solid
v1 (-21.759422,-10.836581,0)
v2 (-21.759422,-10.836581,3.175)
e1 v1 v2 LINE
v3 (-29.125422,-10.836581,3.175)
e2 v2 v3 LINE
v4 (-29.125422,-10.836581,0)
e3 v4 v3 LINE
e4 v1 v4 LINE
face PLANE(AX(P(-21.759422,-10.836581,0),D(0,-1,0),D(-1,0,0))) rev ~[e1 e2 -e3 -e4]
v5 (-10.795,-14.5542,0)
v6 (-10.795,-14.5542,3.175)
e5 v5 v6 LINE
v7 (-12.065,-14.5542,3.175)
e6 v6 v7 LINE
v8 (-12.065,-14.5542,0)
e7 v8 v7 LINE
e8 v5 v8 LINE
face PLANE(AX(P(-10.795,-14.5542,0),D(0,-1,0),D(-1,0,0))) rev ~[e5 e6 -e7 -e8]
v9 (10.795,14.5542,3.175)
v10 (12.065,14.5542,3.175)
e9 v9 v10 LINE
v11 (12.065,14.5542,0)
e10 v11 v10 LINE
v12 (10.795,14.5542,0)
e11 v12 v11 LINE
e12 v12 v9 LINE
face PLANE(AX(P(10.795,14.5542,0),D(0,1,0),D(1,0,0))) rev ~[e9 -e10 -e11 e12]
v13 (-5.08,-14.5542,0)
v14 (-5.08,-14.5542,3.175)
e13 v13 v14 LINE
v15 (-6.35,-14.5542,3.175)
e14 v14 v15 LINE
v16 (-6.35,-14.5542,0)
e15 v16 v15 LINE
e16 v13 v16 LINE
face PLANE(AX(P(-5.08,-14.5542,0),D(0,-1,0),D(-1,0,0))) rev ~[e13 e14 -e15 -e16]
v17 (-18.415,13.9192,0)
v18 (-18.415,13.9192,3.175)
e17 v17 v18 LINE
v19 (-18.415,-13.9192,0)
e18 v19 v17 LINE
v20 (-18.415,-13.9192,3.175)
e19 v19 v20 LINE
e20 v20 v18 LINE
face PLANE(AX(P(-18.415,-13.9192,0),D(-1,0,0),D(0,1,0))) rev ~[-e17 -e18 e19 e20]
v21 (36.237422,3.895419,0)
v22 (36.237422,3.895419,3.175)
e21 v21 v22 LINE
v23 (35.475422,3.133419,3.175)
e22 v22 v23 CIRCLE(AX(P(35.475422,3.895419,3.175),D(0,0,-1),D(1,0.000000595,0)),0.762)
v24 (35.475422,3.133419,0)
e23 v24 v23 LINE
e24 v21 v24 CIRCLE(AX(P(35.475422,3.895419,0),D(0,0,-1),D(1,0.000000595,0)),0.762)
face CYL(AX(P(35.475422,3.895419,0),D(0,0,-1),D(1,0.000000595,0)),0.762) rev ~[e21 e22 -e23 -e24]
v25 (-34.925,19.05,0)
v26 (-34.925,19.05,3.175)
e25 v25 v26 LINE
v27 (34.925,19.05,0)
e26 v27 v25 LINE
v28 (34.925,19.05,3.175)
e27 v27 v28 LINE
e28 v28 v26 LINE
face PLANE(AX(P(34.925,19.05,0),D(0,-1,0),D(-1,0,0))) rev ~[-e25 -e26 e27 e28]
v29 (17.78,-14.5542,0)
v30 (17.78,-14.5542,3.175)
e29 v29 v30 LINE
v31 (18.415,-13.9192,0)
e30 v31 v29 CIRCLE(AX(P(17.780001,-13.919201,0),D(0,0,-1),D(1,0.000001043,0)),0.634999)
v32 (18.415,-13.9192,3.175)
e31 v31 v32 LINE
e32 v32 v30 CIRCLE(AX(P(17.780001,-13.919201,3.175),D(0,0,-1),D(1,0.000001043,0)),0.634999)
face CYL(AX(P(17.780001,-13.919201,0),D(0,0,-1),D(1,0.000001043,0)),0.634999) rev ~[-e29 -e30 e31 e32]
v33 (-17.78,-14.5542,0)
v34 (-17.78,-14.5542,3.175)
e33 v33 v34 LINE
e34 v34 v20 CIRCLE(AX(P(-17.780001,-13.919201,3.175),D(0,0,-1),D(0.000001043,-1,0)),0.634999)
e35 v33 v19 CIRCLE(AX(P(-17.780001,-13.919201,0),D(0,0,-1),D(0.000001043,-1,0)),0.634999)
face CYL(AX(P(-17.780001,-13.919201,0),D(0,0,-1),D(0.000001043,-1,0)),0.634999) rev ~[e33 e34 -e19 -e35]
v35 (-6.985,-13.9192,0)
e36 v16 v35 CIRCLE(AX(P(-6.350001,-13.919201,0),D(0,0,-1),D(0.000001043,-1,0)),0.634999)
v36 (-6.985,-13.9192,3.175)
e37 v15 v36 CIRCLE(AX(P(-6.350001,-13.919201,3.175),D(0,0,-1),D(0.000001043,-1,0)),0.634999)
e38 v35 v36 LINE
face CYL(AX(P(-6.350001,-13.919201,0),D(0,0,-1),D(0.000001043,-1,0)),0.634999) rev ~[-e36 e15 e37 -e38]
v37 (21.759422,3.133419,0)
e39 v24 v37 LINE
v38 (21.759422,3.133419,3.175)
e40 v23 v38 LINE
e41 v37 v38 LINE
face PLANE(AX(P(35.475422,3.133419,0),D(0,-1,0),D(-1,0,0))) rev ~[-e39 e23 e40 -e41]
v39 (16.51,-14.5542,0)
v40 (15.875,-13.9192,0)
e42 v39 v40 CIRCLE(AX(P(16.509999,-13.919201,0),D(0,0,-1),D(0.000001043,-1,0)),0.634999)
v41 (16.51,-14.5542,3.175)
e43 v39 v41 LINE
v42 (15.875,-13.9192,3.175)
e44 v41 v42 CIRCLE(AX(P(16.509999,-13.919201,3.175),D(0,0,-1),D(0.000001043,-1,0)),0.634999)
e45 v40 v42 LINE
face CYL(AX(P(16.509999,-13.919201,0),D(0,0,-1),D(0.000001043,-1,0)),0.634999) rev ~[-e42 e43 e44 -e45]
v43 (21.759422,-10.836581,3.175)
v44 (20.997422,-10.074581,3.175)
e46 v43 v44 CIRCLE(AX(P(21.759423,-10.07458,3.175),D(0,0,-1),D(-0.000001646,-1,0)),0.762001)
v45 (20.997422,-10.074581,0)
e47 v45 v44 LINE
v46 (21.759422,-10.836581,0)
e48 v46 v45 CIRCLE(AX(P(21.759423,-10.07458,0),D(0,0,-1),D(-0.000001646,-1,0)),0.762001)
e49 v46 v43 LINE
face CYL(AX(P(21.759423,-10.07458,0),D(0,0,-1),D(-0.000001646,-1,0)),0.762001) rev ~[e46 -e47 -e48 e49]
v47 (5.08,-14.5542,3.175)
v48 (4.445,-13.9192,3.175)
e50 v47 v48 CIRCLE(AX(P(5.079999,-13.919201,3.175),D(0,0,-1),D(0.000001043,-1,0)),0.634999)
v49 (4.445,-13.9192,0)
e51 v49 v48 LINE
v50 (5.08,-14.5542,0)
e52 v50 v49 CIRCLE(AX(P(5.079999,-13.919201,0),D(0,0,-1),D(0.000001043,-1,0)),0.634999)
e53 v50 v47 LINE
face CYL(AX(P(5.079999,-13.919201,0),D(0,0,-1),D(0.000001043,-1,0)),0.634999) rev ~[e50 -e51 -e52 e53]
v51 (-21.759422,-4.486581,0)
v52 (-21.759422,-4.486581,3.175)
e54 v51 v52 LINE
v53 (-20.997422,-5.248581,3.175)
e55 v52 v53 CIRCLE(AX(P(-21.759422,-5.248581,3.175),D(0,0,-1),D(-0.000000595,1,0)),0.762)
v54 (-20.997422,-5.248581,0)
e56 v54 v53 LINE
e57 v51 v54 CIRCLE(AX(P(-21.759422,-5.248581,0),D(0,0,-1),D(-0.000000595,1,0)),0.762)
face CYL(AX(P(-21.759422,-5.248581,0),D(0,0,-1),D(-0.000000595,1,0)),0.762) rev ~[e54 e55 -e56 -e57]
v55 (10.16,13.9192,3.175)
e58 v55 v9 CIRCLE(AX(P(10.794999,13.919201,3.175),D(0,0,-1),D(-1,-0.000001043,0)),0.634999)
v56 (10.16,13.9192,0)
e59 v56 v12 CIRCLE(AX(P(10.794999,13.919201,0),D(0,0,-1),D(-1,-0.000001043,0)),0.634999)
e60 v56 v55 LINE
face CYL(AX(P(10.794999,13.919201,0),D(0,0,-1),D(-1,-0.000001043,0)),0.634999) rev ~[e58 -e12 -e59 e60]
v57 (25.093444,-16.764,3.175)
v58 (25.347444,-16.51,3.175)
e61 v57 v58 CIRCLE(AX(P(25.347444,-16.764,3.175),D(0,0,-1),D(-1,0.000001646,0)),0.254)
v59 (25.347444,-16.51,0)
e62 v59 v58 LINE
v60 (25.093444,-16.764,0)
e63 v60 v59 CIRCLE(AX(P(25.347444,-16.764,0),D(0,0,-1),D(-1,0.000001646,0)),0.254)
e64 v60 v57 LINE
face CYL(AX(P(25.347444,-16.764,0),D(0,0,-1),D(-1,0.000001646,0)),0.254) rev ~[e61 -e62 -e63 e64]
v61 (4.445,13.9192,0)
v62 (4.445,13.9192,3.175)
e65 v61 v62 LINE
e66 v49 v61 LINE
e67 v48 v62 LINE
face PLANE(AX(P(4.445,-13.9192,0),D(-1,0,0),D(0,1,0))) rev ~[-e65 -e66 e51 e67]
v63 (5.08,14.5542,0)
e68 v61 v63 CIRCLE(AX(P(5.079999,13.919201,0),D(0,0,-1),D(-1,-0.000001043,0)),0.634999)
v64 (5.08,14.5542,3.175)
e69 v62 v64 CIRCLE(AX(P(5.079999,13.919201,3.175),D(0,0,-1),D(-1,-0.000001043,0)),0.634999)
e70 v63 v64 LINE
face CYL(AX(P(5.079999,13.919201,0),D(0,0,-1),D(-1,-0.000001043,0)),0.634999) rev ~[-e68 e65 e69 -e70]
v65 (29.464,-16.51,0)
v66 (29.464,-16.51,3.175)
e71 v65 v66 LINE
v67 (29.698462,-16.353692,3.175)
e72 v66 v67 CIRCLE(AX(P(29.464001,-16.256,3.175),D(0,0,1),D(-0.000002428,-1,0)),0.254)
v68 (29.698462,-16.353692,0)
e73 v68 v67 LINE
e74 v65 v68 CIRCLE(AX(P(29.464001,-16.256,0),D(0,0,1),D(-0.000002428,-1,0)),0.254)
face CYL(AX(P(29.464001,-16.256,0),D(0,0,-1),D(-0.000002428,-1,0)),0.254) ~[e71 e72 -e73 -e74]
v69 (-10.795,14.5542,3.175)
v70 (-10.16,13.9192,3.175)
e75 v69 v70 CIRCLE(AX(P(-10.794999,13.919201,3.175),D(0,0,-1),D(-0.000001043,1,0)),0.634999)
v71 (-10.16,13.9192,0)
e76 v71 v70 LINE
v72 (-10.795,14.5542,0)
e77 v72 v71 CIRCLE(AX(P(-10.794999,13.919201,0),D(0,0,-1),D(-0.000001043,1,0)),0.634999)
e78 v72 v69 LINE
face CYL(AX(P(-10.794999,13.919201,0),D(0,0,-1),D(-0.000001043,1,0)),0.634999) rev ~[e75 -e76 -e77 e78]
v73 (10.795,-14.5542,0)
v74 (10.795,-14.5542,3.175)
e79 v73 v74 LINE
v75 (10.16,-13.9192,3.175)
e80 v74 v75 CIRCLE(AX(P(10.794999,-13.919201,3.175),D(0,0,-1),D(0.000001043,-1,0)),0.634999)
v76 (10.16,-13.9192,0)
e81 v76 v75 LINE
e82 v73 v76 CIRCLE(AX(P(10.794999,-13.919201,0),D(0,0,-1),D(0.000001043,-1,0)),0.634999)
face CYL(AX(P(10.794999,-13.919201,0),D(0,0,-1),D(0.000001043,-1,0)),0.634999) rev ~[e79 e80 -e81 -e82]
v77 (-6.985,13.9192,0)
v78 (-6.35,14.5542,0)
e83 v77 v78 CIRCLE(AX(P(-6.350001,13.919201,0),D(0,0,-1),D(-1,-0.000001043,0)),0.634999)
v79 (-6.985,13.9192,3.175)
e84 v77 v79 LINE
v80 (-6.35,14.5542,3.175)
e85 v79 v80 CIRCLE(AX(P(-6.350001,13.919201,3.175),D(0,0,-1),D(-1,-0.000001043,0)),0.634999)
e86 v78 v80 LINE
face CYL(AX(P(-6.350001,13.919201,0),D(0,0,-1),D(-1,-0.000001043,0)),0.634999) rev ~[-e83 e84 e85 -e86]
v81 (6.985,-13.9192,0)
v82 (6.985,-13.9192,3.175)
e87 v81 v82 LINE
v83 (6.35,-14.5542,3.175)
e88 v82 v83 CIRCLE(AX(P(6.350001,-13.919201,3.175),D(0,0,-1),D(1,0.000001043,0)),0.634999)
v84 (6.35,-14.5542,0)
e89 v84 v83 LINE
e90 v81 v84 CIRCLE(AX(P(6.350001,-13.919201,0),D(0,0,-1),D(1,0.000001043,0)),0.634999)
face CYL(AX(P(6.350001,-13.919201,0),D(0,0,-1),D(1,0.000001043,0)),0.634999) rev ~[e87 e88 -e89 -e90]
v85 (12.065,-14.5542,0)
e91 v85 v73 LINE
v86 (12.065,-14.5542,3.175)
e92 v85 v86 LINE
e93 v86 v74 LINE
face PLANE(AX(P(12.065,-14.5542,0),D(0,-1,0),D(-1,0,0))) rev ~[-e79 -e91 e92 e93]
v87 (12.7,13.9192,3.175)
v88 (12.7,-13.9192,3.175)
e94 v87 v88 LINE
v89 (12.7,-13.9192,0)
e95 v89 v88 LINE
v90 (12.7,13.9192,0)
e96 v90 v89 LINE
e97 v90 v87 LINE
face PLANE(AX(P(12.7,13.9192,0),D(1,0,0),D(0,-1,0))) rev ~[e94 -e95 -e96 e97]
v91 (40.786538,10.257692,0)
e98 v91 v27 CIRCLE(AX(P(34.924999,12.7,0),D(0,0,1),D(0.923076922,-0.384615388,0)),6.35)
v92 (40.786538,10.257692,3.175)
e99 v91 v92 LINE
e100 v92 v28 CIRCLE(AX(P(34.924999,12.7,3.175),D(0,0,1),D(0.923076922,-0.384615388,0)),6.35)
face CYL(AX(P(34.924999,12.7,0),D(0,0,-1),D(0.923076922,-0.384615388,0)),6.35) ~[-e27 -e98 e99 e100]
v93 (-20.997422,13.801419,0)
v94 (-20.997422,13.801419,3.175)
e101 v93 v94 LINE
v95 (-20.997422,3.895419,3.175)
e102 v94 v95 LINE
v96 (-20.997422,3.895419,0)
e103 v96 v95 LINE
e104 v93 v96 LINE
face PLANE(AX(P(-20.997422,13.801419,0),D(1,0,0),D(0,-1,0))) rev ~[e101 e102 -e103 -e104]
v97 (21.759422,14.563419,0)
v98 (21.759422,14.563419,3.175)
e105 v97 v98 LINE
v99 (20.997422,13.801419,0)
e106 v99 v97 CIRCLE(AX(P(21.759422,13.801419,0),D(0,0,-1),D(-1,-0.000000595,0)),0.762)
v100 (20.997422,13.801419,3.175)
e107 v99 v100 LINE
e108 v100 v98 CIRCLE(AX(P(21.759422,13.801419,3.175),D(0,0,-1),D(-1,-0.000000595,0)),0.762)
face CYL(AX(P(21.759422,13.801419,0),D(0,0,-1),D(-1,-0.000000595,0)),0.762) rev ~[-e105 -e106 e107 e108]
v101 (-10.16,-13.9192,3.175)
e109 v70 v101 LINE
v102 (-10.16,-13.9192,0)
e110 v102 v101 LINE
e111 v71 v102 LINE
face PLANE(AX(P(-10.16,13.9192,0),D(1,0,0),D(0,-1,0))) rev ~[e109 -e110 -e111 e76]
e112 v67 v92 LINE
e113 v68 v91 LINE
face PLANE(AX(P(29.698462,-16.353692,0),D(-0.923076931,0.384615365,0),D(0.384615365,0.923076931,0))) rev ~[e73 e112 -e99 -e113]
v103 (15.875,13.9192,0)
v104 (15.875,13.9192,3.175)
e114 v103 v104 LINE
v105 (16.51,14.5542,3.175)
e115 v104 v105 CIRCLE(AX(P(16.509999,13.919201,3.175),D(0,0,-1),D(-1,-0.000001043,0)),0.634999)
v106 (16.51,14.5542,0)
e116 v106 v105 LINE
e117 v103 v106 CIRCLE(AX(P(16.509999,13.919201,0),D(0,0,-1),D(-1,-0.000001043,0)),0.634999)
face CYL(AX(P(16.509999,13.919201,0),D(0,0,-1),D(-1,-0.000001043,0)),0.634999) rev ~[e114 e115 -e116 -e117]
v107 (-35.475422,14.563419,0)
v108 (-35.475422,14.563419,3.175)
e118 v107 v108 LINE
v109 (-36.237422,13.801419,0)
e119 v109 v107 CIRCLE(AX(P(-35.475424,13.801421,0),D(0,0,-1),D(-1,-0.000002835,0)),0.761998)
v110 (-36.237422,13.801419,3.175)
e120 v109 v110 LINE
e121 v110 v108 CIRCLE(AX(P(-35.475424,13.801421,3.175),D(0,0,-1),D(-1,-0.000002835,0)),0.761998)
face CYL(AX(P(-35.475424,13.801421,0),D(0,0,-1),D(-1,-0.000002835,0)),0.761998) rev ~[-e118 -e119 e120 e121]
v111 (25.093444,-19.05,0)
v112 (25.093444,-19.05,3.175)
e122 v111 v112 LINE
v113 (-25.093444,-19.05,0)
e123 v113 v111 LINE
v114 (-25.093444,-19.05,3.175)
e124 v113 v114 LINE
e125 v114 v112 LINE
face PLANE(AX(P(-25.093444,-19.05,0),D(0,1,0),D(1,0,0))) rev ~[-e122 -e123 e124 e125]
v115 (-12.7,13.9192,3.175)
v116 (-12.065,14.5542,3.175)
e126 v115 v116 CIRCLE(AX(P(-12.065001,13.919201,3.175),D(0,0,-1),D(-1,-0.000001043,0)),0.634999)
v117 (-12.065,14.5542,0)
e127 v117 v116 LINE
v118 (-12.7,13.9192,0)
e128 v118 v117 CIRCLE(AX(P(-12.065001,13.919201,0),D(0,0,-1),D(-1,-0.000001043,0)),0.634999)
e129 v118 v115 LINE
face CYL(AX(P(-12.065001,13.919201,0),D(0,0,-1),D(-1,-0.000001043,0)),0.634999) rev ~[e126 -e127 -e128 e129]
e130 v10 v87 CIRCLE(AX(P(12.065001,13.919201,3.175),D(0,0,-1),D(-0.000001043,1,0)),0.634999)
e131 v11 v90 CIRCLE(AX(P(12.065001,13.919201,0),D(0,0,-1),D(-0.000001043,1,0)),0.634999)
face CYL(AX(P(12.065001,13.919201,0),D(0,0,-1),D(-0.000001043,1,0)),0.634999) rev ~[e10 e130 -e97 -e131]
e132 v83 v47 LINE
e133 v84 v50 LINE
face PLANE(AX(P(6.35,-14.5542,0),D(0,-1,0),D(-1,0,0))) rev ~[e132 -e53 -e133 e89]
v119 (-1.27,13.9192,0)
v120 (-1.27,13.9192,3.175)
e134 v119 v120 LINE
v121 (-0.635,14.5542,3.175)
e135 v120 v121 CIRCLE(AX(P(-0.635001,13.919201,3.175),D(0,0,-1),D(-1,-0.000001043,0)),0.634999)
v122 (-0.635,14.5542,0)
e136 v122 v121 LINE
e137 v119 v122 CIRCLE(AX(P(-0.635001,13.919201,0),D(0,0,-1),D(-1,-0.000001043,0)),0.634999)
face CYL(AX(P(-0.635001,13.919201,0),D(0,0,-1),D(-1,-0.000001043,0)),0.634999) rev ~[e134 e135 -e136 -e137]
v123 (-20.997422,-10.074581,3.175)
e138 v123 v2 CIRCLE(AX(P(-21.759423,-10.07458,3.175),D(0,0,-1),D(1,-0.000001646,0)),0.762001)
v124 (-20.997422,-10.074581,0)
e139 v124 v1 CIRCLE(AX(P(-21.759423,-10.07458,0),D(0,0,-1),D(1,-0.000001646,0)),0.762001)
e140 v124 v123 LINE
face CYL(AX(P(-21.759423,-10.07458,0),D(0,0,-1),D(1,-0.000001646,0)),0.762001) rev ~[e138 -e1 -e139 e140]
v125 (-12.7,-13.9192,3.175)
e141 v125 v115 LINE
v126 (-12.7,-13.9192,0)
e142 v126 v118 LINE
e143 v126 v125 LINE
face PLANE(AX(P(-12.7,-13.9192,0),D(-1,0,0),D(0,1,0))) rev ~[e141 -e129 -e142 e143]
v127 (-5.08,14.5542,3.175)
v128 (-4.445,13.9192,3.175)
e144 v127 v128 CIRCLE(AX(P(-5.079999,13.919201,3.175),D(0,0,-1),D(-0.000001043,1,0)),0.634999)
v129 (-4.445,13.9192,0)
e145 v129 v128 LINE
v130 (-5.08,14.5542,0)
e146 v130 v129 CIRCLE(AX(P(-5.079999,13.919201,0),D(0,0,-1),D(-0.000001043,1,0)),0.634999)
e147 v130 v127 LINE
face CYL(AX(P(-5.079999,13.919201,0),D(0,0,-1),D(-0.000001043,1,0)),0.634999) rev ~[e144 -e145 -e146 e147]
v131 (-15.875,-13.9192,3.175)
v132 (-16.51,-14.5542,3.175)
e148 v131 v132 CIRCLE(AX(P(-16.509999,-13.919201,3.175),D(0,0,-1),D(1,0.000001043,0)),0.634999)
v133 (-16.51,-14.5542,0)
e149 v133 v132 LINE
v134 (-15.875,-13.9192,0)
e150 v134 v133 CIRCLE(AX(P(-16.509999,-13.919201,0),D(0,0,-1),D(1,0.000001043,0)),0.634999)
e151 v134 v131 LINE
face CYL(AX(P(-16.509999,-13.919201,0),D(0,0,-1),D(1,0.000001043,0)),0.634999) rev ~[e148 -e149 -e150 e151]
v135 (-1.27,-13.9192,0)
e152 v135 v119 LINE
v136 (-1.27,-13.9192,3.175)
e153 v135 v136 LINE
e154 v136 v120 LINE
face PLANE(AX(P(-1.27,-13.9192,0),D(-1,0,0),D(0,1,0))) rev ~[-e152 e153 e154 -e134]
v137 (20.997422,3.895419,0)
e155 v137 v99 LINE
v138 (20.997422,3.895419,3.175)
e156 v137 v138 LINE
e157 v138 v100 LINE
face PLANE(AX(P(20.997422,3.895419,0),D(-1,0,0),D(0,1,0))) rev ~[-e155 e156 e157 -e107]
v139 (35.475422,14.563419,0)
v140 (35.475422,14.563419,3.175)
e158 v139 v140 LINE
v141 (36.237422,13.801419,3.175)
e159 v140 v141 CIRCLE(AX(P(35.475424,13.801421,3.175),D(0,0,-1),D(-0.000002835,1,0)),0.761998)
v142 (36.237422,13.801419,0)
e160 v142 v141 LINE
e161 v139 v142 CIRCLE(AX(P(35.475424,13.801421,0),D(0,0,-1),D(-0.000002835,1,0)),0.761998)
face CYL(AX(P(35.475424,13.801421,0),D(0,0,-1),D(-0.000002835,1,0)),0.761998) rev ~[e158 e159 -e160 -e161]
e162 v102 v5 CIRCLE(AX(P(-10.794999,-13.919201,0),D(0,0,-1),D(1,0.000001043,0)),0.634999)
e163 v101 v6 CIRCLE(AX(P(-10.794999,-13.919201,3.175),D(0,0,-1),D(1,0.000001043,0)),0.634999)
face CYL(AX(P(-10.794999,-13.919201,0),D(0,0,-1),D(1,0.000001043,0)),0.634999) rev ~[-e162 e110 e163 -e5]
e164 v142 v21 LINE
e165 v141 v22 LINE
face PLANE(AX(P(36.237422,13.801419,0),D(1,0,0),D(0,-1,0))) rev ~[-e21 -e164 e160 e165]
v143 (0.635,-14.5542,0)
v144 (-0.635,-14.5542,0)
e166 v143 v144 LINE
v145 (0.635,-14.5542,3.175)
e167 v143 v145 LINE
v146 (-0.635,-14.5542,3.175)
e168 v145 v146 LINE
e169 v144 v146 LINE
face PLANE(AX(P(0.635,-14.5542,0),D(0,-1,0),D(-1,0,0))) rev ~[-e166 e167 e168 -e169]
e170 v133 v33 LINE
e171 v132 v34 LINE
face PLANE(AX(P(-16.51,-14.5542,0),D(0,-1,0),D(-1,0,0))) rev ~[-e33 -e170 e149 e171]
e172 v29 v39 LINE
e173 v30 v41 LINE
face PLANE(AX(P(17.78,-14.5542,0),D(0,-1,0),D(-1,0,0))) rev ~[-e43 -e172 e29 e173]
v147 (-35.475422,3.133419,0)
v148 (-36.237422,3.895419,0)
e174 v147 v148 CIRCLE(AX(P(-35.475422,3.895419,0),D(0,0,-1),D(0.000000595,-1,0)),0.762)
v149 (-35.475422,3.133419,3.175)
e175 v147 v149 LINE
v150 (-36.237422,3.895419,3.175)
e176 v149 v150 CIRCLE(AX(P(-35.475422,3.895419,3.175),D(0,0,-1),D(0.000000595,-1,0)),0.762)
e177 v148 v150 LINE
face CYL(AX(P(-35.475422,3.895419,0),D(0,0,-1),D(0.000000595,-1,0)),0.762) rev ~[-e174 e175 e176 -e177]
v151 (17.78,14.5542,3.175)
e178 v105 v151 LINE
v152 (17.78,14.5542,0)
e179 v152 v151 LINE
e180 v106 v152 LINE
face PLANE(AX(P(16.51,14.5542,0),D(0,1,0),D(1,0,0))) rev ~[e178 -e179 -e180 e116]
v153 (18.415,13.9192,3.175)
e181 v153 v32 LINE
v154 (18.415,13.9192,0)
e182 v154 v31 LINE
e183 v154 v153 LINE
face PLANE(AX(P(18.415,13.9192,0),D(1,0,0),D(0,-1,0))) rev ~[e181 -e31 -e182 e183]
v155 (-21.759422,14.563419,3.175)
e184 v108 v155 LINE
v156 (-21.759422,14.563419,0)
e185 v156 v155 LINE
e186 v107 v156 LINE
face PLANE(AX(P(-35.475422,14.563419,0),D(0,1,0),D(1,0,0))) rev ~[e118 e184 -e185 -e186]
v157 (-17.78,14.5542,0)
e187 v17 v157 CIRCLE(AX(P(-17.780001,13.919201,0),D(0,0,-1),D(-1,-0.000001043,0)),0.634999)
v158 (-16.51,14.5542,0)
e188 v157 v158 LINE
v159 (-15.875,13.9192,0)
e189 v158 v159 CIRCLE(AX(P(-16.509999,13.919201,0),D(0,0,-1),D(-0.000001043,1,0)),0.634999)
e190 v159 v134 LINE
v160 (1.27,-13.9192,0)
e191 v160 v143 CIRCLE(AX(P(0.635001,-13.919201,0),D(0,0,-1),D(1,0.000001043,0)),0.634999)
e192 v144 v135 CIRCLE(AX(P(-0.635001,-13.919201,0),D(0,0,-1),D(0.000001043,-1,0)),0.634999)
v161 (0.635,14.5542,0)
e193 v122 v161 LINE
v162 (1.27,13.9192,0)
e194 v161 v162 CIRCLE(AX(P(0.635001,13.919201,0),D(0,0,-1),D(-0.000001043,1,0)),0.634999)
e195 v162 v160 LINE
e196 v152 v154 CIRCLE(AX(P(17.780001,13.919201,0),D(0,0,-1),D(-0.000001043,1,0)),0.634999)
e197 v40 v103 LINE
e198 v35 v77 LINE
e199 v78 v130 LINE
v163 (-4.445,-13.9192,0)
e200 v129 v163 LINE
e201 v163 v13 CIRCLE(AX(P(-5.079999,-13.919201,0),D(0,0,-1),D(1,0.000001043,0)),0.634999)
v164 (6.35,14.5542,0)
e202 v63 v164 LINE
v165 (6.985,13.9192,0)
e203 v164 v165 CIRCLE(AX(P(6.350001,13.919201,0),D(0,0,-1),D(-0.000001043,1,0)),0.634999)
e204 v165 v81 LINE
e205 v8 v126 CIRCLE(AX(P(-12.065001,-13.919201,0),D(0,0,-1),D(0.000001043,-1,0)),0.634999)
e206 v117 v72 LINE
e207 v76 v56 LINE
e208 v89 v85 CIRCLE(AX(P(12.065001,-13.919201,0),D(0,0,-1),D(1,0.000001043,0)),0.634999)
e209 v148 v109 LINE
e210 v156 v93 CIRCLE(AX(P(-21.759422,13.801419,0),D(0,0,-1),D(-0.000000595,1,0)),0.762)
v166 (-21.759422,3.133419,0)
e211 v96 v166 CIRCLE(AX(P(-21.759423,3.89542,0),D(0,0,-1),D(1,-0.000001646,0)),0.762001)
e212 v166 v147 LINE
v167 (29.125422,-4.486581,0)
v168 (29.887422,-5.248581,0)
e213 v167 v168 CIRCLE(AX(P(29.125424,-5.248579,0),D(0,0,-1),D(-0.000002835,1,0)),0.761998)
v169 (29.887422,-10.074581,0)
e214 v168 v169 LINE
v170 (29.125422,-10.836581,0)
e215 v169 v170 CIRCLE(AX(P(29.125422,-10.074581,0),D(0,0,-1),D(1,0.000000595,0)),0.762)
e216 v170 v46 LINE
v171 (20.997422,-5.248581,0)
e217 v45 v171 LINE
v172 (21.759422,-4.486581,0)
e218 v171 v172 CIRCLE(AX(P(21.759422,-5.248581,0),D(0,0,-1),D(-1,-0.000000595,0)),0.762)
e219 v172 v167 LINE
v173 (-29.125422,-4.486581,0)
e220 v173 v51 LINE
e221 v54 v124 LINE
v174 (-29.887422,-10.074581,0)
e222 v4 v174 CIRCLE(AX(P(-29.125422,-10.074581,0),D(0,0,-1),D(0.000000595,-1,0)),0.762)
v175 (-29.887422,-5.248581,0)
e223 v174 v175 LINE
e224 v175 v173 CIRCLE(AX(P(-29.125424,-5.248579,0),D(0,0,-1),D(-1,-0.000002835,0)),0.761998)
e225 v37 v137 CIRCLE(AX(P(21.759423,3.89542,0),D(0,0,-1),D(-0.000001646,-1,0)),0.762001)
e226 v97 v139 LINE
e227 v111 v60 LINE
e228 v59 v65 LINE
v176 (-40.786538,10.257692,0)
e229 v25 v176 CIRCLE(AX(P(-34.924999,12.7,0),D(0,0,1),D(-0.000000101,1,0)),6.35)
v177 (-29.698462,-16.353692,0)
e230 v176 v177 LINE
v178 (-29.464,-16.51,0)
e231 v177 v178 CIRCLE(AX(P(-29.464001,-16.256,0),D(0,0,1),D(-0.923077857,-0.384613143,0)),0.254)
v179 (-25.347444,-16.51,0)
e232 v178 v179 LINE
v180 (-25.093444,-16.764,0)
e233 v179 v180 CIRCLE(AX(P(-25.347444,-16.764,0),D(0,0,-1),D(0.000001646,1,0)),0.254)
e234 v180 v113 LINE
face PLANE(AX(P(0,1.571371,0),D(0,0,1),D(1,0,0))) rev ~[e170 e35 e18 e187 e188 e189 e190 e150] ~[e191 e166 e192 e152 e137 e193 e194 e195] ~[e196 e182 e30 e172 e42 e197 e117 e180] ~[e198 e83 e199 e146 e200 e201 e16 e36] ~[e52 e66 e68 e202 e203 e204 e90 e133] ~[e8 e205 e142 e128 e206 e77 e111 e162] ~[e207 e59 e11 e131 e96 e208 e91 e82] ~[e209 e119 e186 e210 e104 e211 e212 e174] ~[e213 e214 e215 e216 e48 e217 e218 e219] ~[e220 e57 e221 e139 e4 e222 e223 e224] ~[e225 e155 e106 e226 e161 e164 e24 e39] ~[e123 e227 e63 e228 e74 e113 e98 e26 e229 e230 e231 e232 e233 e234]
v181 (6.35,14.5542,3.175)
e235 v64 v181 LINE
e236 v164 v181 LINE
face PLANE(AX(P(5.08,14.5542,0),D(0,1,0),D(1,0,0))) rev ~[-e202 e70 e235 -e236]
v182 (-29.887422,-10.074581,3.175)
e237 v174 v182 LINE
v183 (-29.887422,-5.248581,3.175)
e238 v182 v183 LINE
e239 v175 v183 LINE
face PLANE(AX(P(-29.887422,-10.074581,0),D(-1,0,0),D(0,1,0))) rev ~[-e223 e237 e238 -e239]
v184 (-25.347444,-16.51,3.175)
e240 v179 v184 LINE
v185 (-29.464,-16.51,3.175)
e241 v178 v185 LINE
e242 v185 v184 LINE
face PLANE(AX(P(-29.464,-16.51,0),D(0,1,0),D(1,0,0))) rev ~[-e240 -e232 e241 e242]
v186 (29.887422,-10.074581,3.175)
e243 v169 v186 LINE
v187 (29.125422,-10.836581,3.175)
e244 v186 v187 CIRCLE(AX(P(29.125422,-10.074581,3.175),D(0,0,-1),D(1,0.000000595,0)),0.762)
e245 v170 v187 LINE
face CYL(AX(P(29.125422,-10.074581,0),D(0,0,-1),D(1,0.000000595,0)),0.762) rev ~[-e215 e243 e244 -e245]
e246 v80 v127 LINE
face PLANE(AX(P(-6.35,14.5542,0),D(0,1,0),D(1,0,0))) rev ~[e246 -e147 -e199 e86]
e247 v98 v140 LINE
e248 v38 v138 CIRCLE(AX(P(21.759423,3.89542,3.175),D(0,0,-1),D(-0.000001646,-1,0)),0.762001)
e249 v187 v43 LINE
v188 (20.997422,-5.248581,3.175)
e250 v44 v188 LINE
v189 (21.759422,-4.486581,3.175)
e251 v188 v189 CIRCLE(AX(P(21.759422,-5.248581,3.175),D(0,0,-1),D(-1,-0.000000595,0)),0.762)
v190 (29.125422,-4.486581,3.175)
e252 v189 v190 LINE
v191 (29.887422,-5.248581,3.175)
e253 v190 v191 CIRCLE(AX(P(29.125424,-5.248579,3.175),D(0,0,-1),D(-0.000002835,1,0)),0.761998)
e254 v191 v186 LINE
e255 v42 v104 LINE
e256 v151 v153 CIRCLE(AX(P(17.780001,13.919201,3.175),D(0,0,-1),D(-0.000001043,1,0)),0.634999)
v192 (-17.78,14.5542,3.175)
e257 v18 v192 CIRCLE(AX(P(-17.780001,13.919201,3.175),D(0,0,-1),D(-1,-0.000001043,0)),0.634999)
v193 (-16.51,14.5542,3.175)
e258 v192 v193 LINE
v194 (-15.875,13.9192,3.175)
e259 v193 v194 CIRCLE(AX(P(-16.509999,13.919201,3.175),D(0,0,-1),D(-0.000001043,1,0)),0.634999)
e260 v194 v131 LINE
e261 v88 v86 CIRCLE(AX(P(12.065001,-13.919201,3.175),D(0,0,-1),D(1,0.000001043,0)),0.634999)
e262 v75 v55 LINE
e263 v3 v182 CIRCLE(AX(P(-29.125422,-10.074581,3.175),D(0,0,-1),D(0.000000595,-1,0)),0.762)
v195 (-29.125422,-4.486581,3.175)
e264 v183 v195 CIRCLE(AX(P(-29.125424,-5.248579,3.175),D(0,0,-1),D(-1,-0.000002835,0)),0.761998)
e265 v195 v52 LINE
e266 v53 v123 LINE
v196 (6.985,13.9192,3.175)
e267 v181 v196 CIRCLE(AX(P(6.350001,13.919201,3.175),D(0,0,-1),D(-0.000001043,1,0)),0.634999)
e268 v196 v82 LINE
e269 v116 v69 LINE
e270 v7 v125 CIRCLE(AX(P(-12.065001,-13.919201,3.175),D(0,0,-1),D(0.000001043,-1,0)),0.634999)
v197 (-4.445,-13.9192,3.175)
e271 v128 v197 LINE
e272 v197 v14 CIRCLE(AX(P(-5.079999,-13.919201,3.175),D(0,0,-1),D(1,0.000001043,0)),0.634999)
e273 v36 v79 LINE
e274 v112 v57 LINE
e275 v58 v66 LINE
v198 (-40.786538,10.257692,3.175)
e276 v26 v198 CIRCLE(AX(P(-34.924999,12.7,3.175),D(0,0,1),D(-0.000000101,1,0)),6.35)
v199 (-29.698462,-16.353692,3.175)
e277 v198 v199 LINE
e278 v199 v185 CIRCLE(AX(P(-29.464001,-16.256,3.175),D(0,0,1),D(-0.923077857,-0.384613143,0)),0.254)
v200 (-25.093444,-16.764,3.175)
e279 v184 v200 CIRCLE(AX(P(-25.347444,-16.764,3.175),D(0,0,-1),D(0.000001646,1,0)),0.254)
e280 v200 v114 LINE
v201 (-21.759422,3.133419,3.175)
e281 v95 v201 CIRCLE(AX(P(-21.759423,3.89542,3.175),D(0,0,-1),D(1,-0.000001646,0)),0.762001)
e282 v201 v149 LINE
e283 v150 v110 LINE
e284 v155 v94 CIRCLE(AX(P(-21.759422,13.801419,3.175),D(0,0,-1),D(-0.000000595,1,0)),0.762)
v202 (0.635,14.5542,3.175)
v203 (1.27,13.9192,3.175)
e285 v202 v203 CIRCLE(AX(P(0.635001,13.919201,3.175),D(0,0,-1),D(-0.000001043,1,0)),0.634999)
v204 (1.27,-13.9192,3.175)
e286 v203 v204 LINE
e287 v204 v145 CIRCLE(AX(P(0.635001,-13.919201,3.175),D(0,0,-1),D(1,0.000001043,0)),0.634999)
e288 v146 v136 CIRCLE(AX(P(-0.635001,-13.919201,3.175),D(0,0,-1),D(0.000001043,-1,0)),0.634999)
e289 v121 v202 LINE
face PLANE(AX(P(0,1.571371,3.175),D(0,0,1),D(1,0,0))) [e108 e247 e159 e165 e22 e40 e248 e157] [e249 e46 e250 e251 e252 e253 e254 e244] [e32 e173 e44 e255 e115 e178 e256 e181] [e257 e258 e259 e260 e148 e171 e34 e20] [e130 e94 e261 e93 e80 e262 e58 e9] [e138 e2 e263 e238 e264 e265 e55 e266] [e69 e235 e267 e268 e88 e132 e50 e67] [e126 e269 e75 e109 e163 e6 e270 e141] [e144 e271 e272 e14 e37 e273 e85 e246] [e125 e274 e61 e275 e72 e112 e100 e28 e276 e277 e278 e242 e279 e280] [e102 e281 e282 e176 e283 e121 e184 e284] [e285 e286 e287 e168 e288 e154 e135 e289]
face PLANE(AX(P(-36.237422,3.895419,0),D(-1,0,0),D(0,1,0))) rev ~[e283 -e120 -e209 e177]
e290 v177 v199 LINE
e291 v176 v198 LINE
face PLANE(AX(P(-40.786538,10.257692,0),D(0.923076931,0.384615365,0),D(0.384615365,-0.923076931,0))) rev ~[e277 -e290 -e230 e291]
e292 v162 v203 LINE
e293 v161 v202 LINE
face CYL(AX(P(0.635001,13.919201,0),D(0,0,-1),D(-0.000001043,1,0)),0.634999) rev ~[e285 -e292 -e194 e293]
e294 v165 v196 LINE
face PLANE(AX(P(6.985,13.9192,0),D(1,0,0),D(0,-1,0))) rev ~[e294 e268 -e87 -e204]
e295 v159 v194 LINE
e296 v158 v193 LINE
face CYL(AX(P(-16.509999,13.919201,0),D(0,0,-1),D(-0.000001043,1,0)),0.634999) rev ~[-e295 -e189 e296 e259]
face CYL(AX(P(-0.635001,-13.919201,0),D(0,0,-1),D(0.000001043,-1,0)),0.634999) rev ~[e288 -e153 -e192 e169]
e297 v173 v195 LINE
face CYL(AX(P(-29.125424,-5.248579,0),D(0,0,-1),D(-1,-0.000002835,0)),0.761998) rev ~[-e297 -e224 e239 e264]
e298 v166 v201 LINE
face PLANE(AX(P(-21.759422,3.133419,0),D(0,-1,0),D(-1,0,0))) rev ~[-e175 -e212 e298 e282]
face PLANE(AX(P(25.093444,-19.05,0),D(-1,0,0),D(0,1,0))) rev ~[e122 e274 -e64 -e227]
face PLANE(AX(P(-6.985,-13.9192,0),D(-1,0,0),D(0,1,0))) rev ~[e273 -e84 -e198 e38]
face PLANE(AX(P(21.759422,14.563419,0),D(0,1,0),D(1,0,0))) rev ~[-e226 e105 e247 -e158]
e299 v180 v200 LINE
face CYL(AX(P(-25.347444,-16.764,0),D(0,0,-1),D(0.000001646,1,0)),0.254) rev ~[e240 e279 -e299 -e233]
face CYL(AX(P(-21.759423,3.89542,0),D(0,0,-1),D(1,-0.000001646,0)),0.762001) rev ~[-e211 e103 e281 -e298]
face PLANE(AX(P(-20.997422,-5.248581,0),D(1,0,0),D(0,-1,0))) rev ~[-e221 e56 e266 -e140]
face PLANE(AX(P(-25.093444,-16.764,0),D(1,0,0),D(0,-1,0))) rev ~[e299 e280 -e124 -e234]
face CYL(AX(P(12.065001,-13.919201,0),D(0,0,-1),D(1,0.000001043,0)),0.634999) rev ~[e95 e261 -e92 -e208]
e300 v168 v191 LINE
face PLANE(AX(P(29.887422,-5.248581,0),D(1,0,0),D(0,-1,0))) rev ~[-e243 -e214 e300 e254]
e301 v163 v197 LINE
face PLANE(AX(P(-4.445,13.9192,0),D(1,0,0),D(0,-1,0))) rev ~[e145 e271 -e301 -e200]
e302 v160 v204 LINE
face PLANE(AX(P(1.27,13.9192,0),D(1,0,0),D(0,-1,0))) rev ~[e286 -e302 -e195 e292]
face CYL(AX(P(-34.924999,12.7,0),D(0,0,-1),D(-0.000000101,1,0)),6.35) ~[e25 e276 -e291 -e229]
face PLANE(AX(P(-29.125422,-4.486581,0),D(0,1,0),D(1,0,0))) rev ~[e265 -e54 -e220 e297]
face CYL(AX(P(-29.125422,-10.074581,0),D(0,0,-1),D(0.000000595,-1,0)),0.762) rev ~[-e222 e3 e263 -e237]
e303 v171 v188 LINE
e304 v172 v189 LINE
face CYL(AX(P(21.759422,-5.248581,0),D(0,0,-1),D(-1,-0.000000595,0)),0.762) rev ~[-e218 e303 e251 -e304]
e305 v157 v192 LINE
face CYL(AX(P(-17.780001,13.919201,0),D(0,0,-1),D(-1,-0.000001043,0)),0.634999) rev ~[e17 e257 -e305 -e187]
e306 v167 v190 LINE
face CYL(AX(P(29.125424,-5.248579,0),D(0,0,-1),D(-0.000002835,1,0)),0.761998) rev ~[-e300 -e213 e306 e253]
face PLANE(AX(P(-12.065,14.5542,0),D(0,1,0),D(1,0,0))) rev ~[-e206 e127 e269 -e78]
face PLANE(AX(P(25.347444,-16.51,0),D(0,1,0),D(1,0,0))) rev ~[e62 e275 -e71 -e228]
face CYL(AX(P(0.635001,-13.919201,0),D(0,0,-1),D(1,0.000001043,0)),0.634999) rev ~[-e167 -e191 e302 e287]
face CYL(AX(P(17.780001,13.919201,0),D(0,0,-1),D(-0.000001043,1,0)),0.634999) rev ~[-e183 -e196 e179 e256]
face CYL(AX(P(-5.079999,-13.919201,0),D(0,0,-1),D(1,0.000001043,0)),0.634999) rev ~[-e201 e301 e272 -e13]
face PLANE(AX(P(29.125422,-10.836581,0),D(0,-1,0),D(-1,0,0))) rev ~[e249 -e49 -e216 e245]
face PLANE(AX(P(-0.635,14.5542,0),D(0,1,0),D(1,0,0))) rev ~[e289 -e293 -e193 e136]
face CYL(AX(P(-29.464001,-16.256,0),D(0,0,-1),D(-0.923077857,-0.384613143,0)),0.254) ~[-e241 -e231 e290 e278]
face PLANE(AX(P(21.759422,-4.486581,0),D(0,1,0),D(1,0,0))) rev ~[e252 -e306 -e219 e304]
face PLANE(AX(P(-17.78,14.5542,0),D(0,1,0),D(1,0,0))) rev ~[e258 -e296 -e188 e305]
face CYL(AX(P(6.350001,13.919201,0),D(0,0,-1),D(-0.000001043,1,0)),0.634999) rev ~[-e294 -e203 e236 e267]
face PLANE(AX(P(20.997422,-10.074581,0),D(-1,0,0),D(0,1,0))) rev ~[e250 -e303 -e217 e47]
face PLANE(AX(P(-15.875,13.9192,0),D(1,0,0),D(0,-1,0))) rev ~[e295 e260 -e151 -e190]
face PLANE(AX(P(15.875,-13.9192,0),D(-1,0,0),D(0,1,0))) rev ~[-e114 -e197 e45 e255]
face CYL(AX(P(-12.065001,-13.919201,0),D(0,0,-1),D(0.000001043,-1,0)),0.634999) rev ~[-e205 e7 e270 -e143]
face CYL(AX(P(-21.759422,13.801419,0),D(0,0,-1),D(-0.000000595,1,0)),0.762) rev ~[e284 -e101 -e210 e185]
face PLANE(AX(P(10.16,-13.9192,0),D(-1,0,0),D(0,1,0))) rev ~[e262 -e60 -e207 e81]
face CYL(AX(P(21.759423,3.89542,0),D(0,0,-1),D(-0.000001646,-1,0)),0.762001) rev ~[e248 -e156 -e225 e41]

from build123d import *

# Parameters (mm, degrees)
F1_DEPTH = 3.175


with BuildPart() as f1:
    # F0 (on Top) → F1 (new body)
    with BuildSketch(Plane.XY):
        with BuildLine():
            ThreePointArc((40.786538, 10.257692), (40.208519, 16.222346), (34.925, 19.05))
            Line((34.925, 19.05), (0.141111, 19.05))
            Line((0.141111, 19.05), (-0.141111, 19.05))
            Line((-0.141111, 19.05), (-34.925, 19.05))
            ThreePointArc((-34.925, 19.05), (-40.208519, 16.222346), (-40.786538, 10.257692))
            Line((-40.786538, 10.257692), (-29.698462, -16.353692))
            ThreePointArc((-29.698462, -16.353692), (-29.604894, -16.467341), (-29.464, -16.51))
            Line((-29.464, -16.51), (-25.347444, -16.51))
            ThreePointArc((-25.347444, -16.51), (-25.167839, -16.584395), (-25.093444, -16.764))
            Line((-25.093444, -16.764), (-25.093444, -19.05))
            Line((-25.093444, -19.05), (-0.141111, -19.05))
            Line((-0.141111, -19.05), (0.141111, -19.05))
            Line((0.141111, -19.05), (25.093444, -19.05))
            Line((25.093444, -19.05), (25.093444, -16.764))
            ThreePointArc((25.093444, -16.764), (25.167839, -16.584395), (25.347444, -16.51))
            Line((25.347444, -16.51), (29.464, -16.51))
            ThreePointArc((29.464, -16.51), (29.604894, -16.467341), (29.698462, -16.353692))
            Line((29.698462, -16.353692), (40.786538, 10.257692))
        make_face()
        with BuildLine():
            Line((-21.759422, -10.836581), (-29.125422, -10.836581))
            ThreePointArc((-29.125422, -10.836581), (-29.664238, -10.613396), (-29.887422, -10.074581))
            Line((-29.887422, -10.074581), (-29.887422, -5.248581))
            ThreePointArc((-29.887422, -5.248581), (-29.664238, -4.709765), (-29.125422, -4.486581))
            Line((-29.125422, -4.486581), (-21.759422, -4.486581))
            ThreePointArc((-21.759422, -4.486581), (-21.220607, -4.709765), (-20.997422, -5.248581))
            Line((-20.997422, -5.248581), (-20.997422, -10.074581))
            ThreePointArc((-20.997422, -10.074581), (-21.220607, -10.613396), (-21.759422, -10.836581))
        make_face(mode=Mode.SUBTRACT)
        with BuildLine():
            Line((21.759422, -4.486581), (29.125422, -4.486581))
            ThreePointArc((29.125422, -4.486581), (29.664238, -4.709765), (29.887422, -5.248581))
            Line((29.887422, -5.248581), (29.887422, -10.074581))
            ThreePointArc((29.887422, -10.074581), (29.664238, -10.613396), (29.125422, -10.836581))
            Line((29.125422, -10.836581), (21.759422, -10.836581))
            ThreePointArc((21.759422, -10.836581), (21.220607, -10.613396), (20.997422, -10.074581))
            Line((20.997422, -10.074581), (20.997422, -5.248581))
            ThreePointArc((20.997422, -5.248581), (21.220607, -4.709765), (21.759422, -4.486581))
        make_face(mode=Mode.SUBTRACT)
        with BuildLine():
            Line((-21.759422, 3.133419), (-35.475422, 3.133419))
            ThreePointArc((-35.475422, 3.133419), (-36.014238, 3.356604), (-36.237422, 3.895419))
            Line((-36.237422, 3.895419), (-36.237422, 13.801419))
            ThreePointArc((-36.237422, 13.801419), (-36.014238, 14.340235), (-35.475422, 14.563419))
            Line((-35.475422, 14.563419), (-21.759422, 14.563419))
            ThreePointArc((-21.759422, 14.563419), (-21.220607, 14.340235), (-20.997422, 13.801419))
            Line((-20.997422, 13.801419), (-20.997422, 3.895419))
            ThreePointArc((-20.997422, 3.895419), (-21.220607, 3.356604), (-21.759422, 3.133419))
        make_face(mode=Mode.SUBTRACT)
        with BuildLine():
            Line((-18.415, -13.9192), (-18.415, 13.9192))
            ThreePointArc((-18.415, 13.9192), (-18.229013, 14.368213), (-17.78, 14.5542))
            Line((-17.78, 14.5542), (-16.51, 14.5542))
            ThreePointArc((-16.51, 14.5542), (-16.060987, 14.368213), (-15.875, 13.9192))
            Line((-15.875, 13.9192), (-15.875, -13.9192))
            ThreePointArc((-15.875, -13.9192), (-16.060987, -14.368213), (-16.51, -14.5542))
            Line((-16.51, -14.5542), (-17.78, -14.5542))
            ThreePointArc((-17.78, -14.5542), (-18.229013, -14.368213), (-18.415, -13.9192))
        make_face(mode=Mode.SUBTRACT)
        with BuildLine():
            Line((-12.7, -13.9192), (-12.7, 13.9192))
            ThreePointArc((-12.7, 13.9192), (-12.514013, 14.368213), (-12.065, 14.5542))
            Line((-12.065, 14.5542), (-10.795, 14.5542))
            ThreePointArc((-10.795, 14.5542), (-10.345987, 14.368213), (-10.16, 13.9192))
            Line((-10.16, 13.9192), (-10.16, -13.9192))
            ThreePointArc((-10.16, -13.9192), (-10.345987, -14.368213), (-10.795, -14.5542))
            Line((-10.795, -14.5542), (-12.065, -14.5542))
            ThreePointArc((-12.065, -14.5542), (-12.514013, -14.368213), (-12.7, -13.9192))
        make_face(mode=Mode.SUBTRACT)
        with BuildLine():
            Line((-6.985, -13.9192), (-6.985, 13.9192))
            ThreePointArc((-6.985, 13.9192), (-6.799013, 14.368213), (-6.35, 14.5542))
            Line((-6.35, 14.5542), (-5.08, 14.5542))
            ThreePointArc((-5.08, 14.5542), (-4.630987, 14.368213), (-4.445, 13.9192))
            Line((-4.445, 13.9192), (-4.445, -13.9192))
            ThreePointArc((-4.445, -13.9192), (-4.630987, -14.368213), (-5.08, -14.5542))
            Line((-5.08, -14.5542), (-6.35, -14.5542))
            ThreePointArc((-6.35, -14.5542), (-6.799013, -14.368213), (-6.985, -13.9192))
        make_face(mode=Mode.SUBTRACT)
        with BuildLine():
            Line((-0.635, 14.5542), (0.635, 14.5542))
            ThreePointArc((0.635, 14.5542), (1.084013, 14.368213), (1.27, 13.9192))
            Line((1.27, 13.9192), (1.27, -13.9192))
            ThreePointArc((1.27, -13.9192), (1.084013, -14.368213), (0.635, -14.5542))
            Line((0.635, -14.5542), (-0.635, -14.5542))
            ThreePointArc((-0.635, -14.5542), (-1.084013, -14.368213), (-1.27, -13.9192))
            Line((-1.27, -13.9192), (-1.27, 13.9192))
            ThreePointArc((-1.27, 13.9192), (-1.084013, 14.368213), (-0.635, 14.5542))
        make_face(mode=Mode.SUBTRACT)
        with BuildLine():
            ThreePointArc((6.35, 14.5542), (6.799013, 14.368213), (6.985, 13.9192))
            Line((6.985, 13.9192), (6.985, -13.9192))
            ThreePointArc((6.985, -13.9192), (6.799013, -14.368213), (6.35, -14.5542))
            Line((6.35, -14.5542), (5.08, -14.5542))
            ThreePointArc((5.08, -14.5542), (4.630987, -14.368213), (4.445, -13.9192))
            Line((4.445, -13.9192), (4.445, 13.9192))
            ThreePointArc((4.445, 13.9192), (4.630987, 14.368213), (5.08, 14.5542))
            Line((5.08, 14.5542), (6.35, 14.5542))
        make_face(mode=Mode.SUBTRACT)
        with BuildLine():
            ThreePointArc((12.065, 14.5542), (12.514013, 14.368213), (12.7, 13.9192))
            Line((12.7, 13.9192), (12.7, -13.9192))
            ThreePointArc((12.7, -13.9192), (12.514013, -14.368213), (12.065, -14.5542))
            Line((12.065, -14.5542), (10.795, -14.5542))
            ThreePointArc((10.795, -14.5542), (10.345987, -14.368213), (10.16, -13.9192))
            Line((10.16, -13.9192), (10.16, 13.9192))
            ThreePointArc((10.16, 13.9192), (10.345987, 14.368213), (10.795, 14.5542))
            Line((10.795, 14.5542), (12.065, 14.5542))
        make_face(mode=Mode.SUBTRACT)
        with BuildLine():
            ThreePointArc((17.78, 14.5542), (18.229013, 14.368213), (18.415, 13.9192))
            Line((18.415, 13.9192), (18.415, -13.9192))
            ThreePointArc((18.415, -13.9192), (18.229013, -14.368213), (17.78, -14.5542))
            Line((17.78, -14.5542), (16.51, -14.5542))
            ThreePointArc((16.51, -14.5542), (16.060987, -14.368213), (15.875, -13.9192))
            Line((15.875, -13.9192), (15.875, 13.9192))
            ThreePointArc((15.875, 13.9192), (16.060987, 14.368213), (16.51, 14.5542))
            Line((16.51, 14.5542), (17.78, 14.5542))
        make_face(mode=Mode.SUBTRACT)
        with BuildLine():
            Line((21.759422, 14.563419), (35.475422, 14.563419))
            ThreePointArc((35.475422, 14.563419), (36.014238, 14.340235), (36.237422, 13.801419))
            Line((36.237422, 13.801419), (36.237422, 3.895419))
            ThreePointArc((36.237422, 3.895419), (36.014238, 3.356604), (35.475422, 3.133419))
            Line((35.475422, 3.133419), (21.759422, 3.133419))
            ThreePointArc((21.759422, 3.133419), (21.220607, 3.356604), (20.997422, 3.895419))
            Line((20.997422, 3.895419), (20.997422, 13.801419))
            ThreePointArc((20.997422, 13.801419), (21.220607, 14.340235), (21.759422, 14.563419))
        make_face(mode=Mode.SUBTRACT)
    extrude(amount=F1_DEPTH)


solid = f1.part
